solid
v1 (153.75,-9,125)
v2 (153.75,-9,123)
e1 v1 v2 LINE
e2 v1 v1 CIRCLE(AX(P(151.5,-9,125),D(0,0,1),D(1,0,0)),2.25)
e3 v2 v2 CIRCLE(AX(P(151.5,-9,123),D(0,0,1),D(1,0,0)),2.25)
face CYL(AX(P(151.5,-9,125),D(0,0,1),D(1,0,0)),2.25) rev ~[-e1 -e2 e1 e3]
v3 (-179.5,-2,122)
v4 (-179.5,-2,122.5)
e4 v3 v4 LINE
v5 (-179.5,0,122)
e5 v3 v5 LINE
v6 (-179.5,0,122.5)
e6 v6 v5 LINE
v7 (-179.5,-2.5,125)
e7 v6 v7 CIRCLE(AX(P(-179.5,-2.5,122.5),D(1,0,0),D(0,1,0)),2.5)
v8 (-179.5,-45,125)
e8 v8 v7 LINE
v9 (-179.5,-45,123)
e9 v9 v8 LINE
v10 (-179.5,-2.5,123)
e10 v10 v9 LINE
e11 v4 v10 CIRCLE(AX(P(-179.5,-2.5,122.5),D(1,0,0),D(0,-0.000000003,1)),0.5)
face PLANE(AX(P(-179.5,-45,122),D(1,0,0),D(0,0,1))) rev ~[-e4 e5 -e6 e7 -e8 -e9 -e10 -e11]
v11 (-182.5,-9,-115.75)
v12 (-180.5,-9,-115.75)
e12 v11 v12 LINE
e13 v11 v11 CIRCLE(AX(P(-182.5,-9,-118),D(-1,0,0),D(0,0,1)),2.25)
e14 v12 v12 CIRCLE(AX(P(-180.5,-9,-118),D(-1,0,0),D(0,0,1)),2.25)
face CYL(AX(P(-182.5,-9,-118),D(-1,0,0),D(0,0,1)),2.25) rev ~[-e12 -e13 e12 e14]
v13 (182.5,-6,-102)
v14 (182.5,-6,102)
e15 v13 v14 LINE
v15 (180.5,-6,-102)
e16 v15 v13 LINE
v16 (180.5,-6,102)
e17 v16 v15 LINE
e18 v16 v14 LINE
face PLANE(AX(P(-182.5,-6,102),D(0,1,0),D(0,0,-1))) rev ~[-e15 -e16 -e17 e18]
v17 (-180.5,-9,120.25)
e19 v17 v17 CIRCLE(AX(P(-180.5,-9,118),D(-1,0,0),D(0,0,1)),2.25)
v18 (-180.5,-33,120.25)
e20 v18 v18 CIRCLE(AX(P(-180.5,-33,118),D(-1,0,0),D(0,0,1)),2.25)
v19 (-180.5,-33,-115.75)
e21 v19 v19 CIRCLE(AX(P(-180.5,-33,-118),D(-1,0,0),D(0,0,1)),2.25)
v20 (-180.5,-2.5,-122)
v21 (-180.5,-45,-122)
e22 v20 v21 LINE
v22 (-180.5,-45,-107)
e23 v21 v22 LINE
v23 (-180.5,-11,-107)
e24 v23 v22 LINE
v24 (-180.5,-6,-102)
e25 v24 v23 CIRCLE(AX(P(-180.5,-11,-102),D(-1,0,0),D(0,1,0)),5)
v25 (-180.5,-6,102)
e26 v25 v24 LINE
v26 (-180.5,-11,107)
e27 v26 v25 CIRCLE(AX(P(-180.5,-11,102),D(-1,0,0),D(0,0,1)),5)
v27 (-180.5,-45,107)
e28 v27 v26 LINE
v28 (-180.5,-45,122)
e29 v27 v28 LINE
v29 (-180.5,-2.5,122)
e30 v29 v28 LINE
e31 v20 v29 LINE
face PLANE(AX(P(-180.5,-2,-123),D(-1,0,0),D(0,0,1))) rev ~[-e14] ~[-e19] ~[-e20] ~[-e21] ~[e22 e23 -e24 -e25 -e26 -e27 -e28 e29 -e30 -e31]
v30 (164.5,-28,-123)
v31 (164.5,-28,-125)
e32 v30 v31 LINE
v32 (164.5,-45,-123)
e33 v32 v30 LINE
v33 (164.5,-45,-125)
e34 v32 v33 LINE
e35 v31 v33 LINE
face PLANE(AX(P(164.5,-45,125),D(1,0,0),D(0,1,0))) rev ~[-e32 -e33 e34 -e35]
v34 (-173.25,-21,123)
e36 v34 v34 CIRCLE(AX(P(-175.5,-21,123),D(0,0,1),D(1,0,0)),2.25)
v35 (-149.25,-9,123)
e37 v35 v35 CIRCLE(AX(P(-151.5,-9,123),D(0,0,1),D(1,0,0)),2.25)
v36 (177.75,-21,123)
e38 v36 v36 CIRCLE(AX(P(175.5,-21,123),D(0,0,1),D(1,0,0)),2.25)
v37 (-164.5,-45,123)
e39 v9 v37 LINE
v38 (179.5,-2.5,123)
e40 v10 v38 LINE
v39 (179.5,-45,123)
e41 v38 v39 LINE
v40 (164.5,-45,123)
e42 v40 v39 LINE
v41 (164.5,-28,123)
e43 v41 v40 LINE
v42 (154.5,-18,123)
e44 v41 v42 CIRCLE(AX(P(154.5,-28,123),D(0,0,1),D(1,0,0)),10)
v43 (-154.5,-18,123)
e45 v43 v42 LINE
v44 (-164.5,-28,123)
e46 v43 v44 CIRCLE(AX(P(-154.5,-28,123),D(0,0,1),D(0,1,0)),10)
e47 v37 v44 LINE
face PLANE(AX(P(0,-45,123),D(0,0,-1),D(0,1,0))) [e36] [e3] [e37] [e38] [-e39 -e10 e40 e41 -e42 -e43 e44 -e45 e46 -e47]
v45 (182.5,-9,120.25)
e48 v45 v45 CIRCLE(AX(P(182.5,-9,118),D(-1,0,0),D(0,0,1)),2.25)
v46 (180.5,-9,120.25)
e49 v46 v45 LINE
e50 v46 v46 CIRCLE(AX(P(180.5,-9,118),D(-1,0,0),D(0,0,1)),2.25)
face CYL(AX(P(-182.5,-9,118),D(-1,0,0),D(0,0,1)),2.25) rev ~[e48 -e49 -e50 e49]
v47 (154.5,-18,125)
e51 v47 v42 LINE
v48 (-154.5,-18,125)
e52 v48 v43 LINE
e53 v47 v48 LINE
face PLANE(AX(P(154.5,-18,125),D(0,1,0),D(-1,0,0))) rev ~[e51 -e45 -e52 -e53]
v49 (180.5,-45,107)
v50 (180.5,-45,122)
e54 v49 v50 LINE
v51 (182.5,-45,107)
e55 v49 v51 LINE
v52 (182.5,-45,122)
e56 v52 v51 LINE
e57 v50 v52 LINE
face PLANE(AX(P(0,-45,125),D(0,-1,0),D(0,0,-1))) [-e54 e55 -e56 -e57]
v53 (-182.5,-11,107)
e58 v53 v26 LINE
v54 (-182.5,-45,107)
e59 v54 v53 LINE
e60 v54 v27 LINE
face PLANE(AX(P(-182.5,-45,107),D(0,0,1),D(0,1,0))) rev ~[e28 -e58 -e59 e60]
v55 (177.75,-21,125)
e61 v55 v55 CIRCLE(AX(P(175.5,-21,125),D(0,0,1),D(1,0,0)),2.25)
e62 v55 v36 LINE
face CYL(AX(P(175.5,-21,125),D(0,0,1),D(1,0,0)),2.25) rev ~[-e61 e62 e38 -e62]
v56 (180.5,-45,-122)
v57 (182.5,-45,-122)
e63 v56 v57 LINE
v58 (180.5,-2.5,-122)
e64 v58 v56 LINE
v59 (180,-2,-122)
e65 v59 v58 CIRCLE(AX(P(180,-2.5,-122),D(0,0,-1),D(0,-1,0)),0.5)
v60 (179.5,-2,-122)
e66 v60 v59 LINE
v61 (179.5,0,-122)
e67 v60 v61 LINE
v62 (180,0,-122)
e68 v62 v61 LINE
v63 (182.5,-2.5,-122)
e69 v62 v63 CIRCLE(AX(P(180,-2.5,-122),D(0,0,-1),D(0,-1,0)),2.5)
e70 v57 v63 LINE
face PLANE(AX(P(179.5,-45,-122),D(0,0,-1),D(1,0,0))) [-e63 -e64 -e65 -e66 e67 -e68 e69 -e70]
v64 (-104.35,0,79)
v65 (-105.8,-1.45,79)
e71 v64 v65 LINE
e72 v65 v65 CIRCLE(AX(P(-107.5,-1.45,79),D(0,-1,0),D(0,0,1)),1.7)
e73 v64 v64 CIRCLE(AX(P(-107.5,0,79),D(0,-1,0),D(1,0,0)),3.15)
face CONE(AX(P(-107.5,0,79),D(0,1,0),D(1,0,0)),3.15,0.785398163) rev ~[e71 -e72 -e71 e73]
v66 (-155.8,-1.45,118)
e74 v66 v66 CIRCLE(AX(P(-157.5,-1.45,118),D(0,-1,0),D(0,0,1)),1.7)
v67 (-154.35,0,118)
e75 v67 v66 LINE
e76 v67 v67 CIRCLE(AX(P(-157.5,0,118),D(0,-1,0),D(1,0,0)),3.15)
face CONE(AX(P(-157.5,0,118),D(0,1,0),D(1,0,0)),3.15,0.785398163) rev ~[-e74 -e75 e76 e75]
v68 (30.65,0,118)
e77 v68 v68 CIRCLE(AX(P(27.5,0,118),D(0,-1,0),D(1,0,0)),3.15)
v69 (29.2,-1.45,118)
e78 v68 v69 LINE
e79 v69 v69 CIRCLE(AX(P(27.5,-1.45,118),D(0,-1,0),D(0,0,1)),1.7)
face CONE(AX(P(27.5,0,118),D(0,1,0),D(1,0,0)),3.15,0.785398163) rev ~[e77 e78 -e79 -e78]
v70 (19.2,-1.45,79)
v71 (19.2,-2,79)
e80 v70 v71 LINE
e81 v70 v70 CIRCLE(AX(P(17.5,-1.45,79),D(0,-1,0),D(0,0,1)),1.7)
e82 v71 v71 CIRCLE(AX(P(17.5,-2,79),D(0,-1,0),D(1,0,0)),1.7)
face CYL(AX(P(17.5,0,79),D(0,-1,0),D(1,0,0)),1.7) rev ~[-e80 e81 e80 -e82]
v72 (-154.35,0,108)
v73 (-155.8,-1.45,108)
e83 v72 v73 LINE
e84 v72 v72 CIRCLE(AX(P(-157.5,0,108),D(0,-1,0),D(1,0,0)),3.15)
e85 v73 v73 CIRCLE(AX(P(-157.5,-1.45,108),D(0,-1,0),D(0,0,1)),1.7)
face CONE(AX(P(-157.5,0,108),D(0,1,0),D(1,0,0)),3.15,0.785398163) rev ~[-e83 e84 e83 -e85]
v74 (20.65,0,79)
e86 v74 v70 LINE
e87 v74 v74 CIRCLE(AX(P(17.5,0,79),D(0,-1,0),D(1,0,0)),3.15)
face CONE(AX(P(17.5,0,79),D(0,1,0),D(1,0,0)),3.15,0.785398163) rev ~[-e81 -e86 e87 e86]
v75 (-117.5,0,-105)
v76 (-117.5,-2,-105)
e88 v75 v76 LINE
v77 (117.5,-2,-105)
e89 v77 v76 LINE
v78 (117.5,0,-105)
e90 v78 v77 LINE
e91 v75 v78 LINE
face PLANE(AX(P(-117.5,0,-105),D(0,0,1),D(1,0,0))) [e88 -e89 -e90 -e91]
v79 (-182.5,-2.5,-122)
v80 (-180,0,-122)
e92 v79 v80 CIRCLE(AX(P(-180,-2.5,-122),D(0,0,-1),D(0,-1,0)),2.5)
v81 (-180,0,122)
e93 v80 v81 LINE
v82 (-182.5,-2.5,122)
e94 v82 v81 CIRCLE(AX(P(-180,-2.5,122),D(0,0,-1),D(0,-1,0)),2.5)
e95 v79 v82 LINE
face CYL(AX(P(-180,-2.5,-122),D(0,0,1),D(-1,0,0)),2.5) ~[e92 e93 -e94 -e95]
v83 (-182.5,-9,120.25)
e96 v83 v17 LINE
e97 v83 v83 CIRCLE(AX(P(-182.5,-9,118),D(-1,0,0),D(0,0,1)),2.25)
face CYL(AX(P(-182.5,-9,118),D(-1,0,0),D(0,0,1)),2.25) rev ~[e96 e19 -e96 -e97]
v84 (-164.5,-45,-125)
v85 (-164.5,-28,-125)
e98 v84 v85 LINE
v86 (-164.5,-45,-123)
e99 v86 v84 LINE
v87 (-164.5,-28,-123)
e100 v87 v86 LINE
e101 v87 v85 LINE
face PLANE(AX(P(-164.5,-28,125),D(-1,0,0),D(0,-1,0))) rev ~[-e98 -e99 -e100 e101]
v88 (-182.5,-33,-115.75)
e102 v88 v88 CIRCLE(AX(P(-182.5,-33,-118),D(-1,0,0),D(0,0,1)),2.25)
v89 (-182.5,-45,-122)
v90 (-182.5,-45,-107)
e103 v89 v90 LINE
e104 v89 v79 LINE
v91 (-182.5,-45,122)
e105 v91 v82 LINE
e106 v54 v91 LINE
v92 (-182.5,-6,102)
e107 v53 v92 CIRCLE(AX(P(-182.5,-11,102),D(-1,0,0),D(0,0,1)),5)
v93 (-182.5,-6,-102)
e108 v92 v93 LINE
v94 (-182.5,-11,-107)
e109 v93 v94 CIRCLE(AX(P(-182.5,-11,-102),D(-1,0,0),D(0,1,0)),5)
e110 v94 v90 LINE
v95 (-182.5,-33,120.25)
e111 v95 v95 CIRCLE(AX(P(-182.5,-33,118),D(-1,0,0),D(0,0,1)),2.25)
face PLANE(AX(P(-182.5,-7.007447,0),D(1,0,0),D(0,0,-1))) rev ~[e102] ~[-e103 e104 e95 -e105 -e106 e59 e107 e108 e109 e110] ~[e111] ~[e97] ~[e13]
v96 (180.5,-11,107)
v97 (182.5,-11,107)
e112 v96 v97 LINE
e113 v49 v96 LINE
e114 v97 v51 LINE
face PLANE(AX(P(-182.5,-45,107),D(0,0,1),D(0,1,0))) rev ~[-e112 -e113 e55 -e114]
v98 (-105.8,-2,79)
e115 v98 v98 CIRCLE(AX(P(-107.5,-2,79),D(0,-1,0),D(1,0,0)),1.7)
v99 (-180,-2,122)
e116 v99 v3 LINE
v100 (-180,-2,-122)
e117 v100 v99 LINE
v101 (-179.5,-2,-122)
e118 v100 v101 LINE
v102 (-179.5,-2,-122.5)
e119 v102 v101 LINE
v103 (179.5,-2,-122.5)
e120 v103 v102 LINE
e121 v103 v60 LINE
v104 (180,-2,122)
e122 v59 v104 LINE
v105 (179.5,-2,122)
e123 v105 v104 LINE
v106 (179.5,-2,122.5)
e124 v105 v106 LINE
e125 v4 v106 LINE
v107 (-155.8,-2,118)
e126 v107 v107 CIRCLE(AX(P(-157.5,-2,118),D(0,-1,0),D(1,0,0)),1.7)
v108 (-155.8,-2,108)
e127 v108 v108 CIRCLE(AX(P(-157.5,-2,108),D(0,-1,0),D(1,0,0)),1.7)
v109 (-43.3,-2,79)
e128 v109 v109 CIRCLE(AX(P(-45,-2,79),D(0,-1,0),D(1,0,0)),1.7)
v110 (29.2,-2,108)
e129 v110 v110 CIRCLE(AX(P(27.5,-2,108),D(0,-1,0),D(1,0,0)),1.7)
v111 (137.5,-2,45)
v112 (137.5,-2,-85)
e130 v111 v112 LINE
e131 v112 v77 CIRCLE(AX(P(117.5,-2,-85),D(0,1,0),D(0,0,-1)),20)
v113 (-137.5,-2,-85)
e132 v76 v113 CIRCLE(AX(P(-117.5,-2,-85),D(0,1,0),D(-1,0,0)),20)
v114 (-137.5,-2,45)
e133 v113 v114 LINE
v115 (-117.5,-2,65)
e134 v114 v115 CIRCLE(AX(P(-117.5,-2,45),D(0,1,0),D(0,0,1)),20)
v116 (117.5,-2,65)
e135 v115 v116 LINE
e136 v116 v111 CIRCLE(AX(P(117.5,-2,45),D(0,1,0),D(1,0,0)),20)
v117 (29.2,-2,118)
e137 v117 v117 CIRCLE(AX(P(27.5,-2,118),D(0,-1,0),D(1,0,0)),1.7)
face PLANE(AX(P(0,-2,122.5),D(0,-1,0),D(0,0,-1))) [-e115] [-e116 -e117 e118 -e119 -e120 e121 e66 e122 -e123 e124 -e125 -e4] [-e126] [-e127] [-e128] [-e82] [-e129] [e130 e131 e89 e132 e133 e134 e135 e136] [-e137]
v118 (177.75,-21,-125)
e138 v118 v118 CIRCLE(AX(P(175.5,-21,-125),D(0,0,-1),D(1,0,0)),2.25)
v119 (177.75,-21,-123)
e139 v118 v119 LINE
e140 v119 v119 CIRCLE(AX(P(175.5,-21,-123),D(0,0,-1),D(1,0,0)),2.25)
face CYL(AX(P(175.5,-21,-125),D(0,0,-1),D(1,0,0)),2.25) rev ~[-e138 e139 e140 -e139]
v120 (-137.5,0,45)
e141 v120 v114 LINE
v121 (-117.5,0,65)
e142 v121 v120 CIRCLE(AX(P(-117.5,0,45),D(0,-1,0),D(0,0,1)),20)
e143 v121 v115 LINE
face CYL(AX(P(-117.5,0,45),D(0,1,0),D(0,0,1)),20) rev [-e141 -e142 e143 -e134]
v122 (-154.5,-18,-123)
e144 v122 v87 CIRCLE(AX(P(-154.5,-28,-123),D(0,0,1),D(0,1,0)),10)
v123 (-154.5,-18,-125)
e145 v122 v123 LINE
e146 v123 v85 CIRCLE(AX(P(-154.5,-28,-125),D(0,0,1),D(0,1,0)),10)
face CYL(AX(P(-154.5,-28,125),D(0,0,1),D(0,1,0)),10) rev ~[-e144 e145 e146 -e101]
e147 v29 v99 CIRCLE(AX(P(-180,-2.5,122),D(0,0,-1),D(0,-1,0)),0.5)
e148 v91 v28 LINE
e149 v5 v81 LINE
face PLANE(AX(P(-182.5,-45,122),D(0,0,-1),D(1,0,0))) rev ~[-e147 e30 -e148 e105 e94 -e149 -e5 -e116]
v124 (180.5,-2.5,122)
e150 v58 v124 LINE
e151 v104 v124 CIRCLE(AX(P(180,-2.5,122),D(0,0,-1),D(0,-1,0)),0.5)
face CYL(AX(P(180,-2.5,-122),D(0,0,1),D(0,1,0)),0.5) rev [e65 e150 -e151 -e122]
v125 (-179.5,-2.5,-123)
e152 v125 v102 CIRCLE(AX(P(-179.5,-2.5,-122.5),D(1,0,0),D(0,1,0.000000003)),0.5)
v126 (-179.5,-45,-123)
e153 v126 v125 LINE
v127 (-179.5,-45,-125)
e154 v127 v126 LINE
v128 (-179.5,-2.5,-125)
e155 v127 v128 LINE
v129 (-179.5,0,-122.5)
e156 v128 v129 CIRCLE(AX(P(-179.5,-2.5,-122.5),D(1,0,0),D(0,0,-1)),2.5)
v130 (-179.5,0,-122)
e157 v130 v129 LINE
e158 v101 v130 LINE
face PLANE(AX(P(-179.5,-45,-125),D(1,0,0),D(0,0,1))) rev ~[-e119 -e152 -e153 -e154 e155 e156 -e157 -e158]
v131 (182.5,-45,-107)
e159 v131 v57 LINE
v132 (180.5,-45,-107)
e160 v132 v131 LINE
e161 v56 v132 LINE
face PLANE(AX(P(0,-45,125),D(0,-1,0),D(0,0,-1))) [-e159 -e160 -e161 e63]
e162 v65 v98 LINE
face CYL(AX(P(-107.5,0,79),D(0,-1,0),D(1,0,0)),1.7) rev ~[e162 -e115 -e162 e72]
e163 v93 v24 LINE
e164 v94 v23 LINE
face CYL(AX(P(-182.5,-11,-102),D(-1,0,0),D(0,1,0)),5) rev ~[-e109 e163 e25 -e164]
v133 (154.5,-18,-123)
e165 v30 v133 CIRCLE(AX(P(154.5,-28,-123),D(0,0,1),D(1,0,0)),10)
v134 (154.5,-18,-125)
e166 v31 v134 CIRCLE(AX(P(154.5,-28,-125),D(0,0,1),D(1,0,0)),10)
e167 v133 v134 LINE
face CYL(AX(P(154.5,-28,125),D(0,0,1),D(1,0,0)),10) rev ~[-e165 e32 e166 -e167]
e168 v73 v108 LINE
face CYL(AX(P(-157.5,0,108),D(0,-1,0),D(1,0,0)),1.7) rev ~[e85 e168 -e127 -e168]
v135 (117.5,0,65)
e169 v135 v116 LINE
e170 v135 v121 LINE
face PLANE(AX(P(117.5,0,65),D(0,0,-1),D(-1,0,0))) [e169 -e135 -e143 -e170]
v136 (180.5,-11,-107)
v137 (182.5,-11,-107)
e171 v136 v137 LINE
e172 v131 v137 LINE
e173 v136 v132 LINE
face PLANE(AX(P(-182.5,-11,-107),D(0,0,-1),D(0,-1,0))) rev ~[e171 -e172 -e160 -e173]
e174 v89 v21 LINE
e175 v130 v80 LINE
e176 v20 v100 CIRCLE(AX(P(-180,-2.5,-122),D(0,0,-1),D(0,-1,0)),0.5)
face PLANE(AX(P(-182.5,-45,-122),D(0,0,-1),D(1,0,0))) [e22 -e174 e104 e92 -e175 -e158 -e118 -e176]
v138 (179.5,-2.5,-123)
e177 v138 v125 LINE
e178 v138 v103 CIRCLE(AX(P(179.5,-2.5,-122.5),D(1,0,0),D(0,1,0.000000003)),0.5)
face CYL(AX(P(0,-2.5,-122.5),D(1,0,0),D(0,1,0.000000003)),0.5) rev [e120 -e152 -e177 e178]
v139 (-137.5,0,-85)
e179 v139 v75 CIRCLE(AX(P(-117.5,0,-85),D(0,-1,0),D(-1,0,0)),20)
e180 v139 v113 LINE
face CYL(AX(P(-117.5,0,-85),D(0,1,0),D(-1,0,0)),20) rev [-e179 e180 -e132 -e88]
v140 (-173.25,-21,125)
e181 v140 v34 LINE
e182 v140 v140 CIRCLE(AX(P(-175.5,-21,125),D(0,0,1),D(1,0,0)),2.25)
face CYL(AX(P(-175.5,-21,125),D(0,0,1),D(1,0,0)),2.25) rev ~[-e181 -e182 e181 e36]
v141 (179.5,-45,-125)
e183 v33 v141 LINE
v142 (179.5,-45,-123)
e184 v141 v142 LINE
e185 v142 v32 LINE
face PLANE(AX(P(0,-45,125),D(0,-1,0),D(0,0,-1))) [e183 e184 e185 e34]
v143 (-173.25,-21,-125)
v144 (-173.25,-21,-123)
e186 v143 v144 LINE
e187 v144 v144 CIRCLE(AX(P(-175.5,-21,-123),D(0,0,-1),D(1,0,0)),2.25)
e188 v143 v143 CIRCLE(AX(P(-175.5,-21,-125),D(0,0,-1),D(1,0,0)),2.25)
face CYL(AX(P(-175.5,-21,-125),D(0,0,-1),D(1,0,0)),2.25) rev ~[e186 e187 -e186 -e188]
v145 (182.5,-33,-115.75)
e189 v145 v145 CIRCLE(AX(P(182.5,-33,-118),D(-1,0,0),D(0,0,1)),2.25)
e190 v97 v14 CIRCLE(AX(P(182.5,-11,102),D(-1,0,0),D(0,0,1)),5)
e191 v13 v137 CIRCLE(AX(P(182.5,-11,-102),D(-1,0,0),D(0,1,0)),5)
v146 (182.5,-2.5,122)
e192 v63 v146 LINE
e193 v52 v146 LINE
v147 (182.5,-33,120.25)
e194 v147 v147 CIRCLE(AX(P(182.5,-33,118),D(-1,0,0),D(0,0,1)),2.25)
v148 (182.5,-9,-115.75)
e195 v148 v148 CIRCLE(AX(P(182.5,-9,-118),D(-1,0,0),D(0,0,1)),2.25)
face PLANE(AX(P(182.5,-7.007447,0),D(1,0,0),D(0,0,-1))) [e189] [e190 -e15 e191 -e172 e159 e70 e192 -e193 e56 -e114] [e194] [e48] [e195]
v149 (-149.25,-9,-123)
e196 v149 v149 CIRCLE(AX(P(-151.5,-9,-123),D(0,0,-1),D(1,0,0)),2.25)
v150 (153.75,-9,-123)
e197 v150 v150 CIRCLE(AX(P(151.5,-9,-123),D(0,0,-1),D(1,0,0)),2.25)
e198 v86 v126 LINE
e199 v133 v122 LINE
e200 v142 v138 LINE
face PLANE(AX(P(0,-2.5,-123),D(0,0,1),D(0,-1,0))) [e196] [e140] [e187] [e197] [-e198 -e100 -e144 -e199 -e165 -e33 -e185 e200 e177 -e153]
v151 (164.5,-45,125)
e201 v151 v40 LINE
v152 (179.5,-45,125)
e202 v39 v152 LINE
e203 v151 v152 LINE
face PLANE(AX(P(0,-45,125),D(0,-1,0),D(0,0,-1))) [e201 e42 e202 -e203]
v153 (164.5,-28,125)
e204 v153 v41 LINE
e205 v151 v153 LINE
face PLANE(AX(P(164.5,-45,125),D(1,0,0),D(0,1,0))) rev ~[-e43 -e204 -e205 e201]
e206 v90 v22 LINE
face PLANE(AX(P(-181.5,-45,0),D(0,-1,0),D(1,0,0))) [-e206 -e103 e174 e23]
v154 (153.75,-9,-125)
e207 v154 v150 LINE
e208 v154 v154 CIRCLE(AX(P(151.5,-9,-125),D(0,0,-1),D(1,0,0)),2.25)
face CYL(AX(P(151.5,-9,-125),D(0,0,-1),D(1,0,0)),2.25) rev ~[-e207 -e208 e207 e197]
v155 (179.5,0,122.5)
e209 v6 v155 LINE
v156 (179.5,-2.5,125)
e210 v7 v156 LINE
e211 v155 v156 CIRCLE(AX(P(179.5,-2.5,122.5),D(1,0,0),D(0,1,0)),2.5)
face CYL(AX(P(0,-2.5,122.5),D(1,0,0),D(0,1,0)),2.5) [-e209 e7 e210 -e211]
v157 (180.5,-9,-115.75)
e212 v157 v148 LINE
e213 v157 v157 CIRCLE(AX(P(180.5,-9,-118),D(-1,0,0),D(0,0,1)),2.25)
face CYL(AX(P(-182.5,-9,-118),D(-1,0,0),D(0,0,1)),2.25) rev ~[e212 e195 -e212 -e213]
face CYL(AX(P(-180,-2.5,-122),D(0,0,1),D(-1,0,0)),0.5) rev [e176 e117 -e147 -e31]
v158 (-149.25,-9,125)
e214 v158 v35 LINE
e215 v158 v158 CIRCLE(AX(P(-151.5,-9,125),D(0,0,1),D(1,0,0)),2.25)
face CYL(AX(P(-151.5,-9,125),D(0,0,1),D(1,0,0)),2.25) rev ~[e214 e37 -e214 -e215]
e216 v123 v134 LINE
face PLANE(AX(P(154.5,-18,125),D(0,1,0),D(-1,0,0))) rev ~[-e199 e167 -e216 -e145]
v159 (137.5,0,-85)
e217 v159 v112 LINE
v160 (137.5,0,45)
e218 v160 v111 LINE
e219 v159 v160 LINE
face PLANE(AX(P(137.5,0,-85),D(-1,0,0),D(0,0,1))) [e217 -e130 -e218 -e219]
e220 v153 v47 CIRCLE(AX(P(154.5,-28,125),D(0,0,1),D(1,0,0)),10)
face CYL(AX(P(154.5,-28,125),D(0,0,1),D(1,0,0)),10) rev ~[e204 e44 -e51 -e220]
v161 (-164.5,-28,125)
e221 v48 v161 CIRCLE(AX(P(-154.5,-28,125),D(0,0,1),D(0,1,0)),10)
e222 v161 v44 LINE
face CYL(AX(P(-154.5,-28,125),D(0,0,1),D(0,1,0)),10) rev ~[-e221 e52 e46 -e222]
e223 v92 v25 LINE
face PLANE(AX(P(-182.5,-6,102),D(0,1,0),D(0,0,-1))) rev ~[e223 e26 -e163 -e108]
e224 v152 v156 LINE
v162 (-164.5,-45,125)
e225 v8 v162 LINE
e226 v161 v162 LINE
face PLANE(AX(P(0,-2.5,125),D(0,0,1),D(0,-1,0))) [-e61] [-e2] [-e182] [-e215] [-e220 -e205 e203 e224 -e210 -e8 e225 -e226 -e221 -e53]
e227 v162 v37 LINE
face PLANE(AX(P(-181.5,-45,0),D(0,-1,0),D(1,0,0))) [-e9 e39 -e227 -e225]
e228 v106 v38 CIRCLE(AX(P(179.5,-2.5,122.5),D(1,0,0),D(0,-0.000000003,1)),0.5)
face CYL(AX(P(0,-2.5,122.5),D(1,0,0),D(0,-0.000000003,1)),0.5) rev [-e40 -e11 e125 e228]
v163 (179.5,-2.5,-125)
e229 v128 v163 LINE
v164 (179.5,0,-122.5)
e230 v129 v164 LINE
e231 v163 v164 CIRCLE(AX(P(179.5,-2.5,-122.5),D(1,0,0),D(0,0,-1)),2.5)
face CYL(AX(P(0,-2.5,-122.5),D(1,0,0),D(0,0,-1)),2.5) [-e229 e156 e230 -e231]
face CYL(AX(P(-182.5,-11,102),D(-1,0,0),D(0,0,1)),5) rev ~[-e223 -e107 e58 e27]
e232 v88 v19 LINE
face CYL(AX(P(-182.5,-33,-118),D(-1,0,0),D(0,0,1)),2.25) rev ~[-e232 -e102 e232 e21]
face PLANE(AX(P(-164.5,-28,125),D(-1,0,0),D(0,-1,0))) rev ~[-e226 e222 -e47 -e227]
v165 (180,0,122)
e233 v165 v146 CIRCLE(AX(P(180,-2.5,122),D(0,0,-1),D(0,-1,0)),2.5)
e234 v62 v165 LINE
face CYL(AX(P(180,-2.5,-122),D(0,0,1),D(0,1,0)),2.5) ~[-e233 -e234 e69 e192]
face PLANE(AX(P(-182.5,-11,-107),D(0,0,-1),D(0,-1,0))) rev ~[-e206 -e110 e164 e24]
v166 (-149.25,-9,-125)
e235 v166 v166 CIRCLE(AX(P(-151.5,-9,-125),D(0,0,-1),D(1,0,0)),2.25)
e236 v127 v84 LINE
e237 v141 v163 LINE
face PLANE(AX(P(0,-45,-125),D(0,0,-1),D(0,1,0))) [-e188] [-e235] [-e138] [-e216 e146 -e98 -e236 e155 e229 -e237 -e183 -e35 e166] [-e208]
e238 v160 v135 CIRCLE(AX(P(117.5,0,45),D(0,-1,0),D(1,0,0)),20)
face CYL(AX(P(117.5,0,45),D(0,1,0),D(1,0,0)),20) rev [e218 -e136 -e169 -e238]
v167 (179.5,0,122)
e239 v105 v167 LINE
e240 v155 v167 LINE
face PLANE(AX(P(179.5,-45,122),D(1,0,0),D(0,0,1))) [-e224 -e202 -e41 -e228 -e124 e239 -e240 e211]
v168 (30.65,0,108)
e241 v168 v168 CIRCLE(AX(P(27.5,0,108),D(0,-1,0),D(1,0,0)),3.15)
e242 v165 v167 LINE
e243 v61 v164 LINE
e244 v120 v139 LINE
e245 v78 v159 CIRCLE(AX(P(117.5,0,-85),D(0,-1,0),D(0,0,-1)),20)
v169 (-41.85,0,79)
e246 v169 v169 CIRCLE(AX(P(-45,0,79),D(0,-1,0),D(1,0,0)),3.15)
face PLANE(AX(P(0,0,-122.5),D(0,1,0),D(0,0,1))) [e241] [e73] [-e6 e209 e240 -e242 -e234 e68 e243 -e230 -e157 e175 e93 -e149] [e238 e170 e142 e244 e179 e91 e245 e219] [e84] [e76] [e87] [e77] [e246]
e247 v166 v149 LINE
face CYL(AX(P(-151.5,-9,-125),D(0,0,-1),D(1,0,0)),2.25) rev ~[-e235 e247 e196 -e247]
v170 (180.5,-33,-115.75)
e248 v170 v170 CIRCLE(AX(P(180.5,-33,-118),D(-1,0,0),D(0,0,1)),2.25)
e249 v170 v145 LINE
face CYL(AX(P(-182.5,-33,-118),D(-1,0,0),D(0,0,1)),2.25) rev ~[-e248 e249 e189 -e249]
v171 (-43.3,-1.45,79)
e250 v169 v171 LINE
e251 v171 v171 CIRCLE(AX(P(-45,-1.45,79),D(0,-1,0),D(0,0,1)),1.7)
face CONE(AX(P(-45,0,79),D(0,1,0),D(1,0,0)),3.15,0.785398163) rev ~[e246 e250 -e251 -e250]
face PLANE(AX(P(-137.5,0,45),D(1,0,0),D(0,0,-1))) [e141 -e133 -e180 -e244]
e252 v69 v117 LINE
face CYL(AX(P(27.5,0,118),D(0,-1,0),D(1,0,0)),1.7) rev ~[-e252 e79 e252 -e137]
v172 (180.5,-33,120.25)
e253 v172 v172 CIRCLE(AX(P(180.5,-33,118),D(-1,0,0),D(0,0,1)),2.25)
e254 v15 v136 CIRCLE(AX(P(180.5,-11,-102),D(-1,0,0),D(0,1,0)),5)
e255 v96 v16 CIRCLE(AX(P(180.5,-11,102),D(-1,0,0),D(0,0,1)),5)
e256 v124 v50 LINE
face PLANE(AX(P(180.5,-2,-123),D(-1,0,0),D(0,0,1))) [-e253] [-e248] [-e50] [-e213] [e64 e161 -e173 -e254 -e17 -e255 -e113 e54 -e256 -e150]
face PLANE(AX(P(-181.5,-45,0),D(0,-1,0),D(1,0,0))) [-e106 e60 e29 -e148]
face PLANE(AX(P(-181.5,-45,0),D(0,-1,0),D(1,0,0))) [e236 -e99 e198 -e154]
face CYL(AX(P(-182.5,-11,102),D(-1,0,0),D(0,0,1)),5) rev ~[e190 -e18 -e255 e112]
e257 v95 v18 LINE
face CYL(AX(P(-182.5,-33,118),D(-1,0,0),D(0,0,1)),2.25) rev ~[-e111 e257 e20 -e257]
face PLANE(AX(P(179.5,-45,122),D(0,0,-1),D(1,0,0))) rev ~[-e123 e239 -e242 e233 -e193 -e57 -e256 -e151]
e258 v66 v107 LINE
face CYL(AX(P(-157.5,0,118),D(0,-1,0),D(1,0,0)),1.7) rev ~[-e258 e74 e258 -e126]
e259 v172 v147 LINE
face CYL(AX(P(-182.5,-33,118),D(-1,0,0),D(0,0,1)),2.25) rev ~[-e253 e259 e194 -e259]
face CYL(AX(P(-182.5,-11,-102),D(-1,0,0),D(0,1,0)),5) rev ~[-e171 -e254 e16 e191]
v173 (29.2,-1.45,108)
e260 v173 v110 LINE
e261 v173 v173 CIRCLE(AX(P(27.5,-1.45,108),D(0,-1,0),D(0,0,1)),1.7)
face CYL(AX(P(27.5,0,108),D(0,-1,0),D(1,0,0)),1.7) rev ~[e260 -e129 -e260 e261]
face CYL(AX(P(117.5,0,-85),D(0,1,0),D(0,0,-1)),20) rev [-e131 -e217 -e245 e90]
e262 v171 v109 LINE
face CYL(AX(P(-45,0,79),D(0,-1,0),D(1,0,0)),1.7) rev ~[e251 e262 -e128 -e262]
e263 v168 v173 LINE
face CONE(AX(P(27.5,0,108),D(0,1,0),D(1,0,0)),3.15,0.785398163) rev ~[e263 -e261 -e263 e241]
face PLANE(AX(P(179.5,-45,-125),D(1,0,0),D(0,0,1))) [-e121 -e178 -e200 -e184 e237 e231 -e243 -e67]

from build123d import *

# Parameters (mm, degrees)
BOSS_EXTRUDE1_DEPTH                             = 182.5
CUT_EXTRUDE1_DEPTH                              = 251
CUT_EXTRUDE2_DEPTH                              = 10
SKETCH4_W                                       = 2
SKETCH4_H                                       = 246
BOSS_EXTRUDE2_DEPTH                             = 43
SKETCH5_W                                       = 3
SKETCH5_H                                       = 3
CUT_EXTRUDE3_DEPTH                              = 46
FILLET1_R                                       = 0.5
FILLET2_R                                       = 2.5
CUT_EXTRUDE6_DEPTH                              = 366
SKETCH9_R                                       = 2.25
CUT_EXTRUDE7_DEPTH                              = 366
SKETCH10_R                                      = 2.25
CUT_EXTRUDE8_DEPTH                              = 10
SKETCH11_R                                      = 2.25
CUT_EXTRUDE9_DEPTH                              = 10
SKETCH12_R                                      = 1.5
CUT_EXTRUDE10_DEPTH                             = 10
CSK_FOR_M3_FLAT_HEAD_MACHINE_SCREW1_D           = 3.4
CSK_FOR_M3_FLAT_HEAD_MACHINE_SCREW1_CSINK_D     = 6.3
CSK_FOR_M3_FLAT_HEAD_MACHINE_SCREW1_CSINK_ANGLE = 90


with BuildPart() as part:
    # Sketch1 → Boss-Extrude1 (new body, symmetric)
    with BuildSketch(Plane(origin=(0, 0, 0), x_dir=(0, 0, -1), z_dir=(1, 0, 0))):
        with BuildLine():
            Line((123, -45), (125, -45))
            Line((125, -45), (125, -2.5))
            ThreePointArc((125, -2.5), (124.267766953, -0.732233047), (122.5, 0))
            Line((122.5, 0), (-122.5, 0))
            ThreePointArc((-122.5, 0), (-124.267766953, -0.732233047), (-125, -2.5))
            Line((-125, -2.5), (-125, -45))
            Line((-125, -45), (-123, -45))
            Line((-123, -45), (-123, -2.5))
            ThreePointArc((-123, -2.5), (-122.853553391, -2.146446609), (-122.5, -2))
            Line((-122.5, -2), (122.5, -2))
            ThreePointArc((122.5, -2), (122.853553391, -2.146446609), (123, -2.5))
            Line((123, -2.5), (123, -45))
        make_face()
    extrude(amount=BOSS_EXTRUDE1_DEPTH, both=True)

    # Sketch2 → Cut-Extrude1 (cut, through all)
    with BuildSketch(Plane.XY.offset(125)):
        with BuildLine():
            Line((-164.5, -45), (164.5, -45))
            Line((164.5, -45), (164.5, -28))
            ThreePointArc((164.5, -28), (161.571067812, -20.928932188), (154.5, -18))
            Line((154.5, -18), (-154.5, -18))
            ThreePointArc((-154.5, -18), (-161.571067812, -20.928932188), (-164.5, -28))
            Line((-164.5, -28), (-164.5, -45))
        make_face()
    extrude(amount=-CUT_EXTRUDE1_DEPTH, mode=Mode.SUBTRACT)

    # Sketch3 → Cut-Extrude2 (cut)
    with BuildSketch(Plane(origin=(0, 0, 0), x_dir=(1, 0, 0), z_dir=(0, 1, 0))):
        with BuildLine():
            Line((-117.5, 105), (117.5, 105))
            ThreePointArc((117.5, 105), (131.642135624, 99.142135624), (137.5, 85))
            Line((137.5, 85), (137.5, -45))
            ThreePointArc((137.5, -45), (131.642135624, -59.142135624), (117.5, -65))
            Line((117.5, -65), (-117.5, -65))
            ThreePointArc((-117.5, -65), (-131.642135624, -59.142135624), (-137.5, -45))
            Line((-137.5, -45), (-137.5, 85))
            ThreePointArc((-137.5, 85), (-131.642135624, 99.142135624), (-117.5, 105))
        make_face()
    extrude(amount=-CUT_EXTRUDE2_DEPTH, mode=Mode.SUBTRACT)

    # Sketch4 → Boss-Extrude2 (add)
    with BuildSketch(Plane.XZ.offset(2)):
        with Locations((-181.5, 0)):
            Rectangle(SKETCH4_W, SKETCH4_H)
        with Locations((181.5, 0)):
            Rectangle(SKETCH4_W, SKETCH4_H)
    extrude(amount=BOSS_EXTRUDE2_DEPTH)

    # Sketch5 → Cut-Extrude3 (cut, through all)
    with BuildSketch(Plane.XZ.offset(45)):
        with Locations((-181, 123.5)):
            Rectangle(SKETCH5_W, SKETCH5_H)
        with Locations((-181, -123.5)):
            Rectangle(SKETCH5_W, SKETCH5_H)
        with Locations((181, -123.5)):
            Rectangle(SKETCH5_W, SKETCH5_H)
        with Locations((181, 123.5)):
            Rectangle(SKETCH5_W, SKETCH5_H)
    extrude(amount=-CUT_EXTRUDE3_DEPTH, mode=Mode.SUBTRACT)

    # Fillet1
    fillet1_edges = [part.edges().sort_by_distance(p)[0] for p in [
        (-180.5, -2, 0),
        (180.5, -2, 0),
    ]]
    fillet(fillet1_edges, radius=FILLET1_R)

    # Fillet2
    fillet2_edges = [part.edges().sort_by_distance(p)[0] for p in [
        (-182.5, 0, 0),
        (182.5, 0, 0),
    ]]
    fillet(fillet2_edges, radius=FILLET2_R)

    # Sketch8 → Cut-Extrude6 (cut, through all)
    with BuildSketch(Plane.ZY.offset(182.5)):
        with BuildLine():
            Line((-107, -45), (107, -45))
            Line((107, -45), (107, -11))
            ThreePointArc((107, -11), (105.535533906, -7.464466094), (102, -6))
            Line((102, -6), (-102, -6))
            ThreePointArc((-102, -6), (-105.535533906, -7.464466094), (-107, -11))
            Line((-107, -11), (-107, -45))
        make_face()
    extrude(amount=-CUT_EXTRUDE6_DEPTH, mode=Mode.SUBTRACT)

    # Sketch9 → Cut-Extrude7 (cut, through all)
    with BuildSketch(Plane.ZY.offset(182.5)):
        with Locations((-118, -9)):
            Circle(SKETCH9_R)
        with Locations((-118, -33)):
            Circle(SKETCH9_R)
        with Locations((118, -9)):
            Circle(SKETCH9_R)
        with Locations((118, -33)):
            Circle(SKETCH9_R)
    extrude(amount=-CUT_EXTRUDE7_DEPTH, mode=Mode.SUBTRACT)

    # Sketch10 → Cut-Extrude8 (cut)
    with BuildSketch(Plane.XY.offset(125)):
        with Locations((-151.5, -9)):
            Circle(SKETCH10_R)
        with Locations((175.5, -21)):
            Circle(SKETCH10_R)
        with Locations((151.5, -9)):
            Circle(SKETCH10_R)
        with Locations((-175.5, -21)):
            Circle(SKETCH10_R)
    extrude(amount=-CUT_EXTRUDE8_DEPTH, mode=Mode.SUBTRACT)

    # Sketch11 → Cut-Extrude9 (cut)
    with BuildSketch(Plane(origin=(0, 0, -125), x_dir=(-1, 0, 0), z_dir=(0, 0, -1))):
        with Locations(Location((-175.5, -21, 0), (0, 0, 180))):  # turned: the seam where the file's is
            Circle(SKETCH11_R)
        with Locations(Location((-151.5, -9, 0), (0, 0, 180))):  # turned: the seam where the file's is
            Circle(SKETCH11_R)
        with Locations(Location((151.5, -9, 0), (0, 0, 180))):  # turned: the seam where the file's is
            Circle(SKETCH11_R)
        with Locations(Location((175.5, -21, 0), (0, 0, 180))):  # turned: the seam where the file's is
            Circle(SKETCH11_R)
    extrude(amount=-CUT_EXTRUDE9_DEPTH, mode=Mode.SUBTRACT)

    # Sketch12 → Cut-Extrude10 (cut)
    with BuildSketch(Plane(origin=(0, 0, 0), x_dir=(1, 0, 0), z_dir=(0, 1, 0))):
        with Locations(Location((-45, -79, 0), (0, 0, 270))):  # turned: the seam where the file's is
            Circle(SKETCH12_R)
        with Locations(Location((17.5, -79, 0), (0, 0, 270))):  # turned: the seam where the file's is
            Circle(SKETCH12_R)
        with Locations(Location((-107.5, -79, 0), (0, 0, 270))):  # turned: the seam where the file's is
            Circle(SKETCH12_R)
        with Locations(Location((-157.5, -108, 0), (0, 0, 270))):  # turned: the seam where the file's is
            Circle(SKETCH12_R)
        with Locations(Location((-157.5, -118, 0), (0, 0, 270))):  # turned: the seam where the file's is
            Circle(SKETCH12_R)
        with Locations(Location((27.5, -108, 0), (0, 0, 270))):  # turned: the seam where the file's is
            Circle(SKETCH12_R)
        with Locations(Location((27.5, -118, 0), (0, 0, 270))):  # turned: the seam where the file's is
            Circle(SKETCH12_R)
    extrude(amount=-CUT_EXTRUDE10_DEPTH, mode=Mode.SUBTRACT)

    # CSK for M3 Flat Head Machine Screw1 (through all)
    with Locations(Plane(origin=(0, 0, 0), x_dir=(-1, 0, 0), z_dir=(0, 1, 0))):
        with Locations((107.5, 79), (45, 79), (-17.5, 79), (157.5, 108), (157.5, 118), (-27.5, 108), (-27.5, 118)):
            CounterSinkHole(CSK_FOR_M3_FLAT_HEAD_MACHINE_SCREW1_D / 2, CSK_FOR_M3_FLAT_HEAD_MACHINE_SCREW1_CSINK_D / 2, counter_sink_angle=CSK_FOR_M3_FLAT_HEAD_MACHINE_SCREW1_CSINK_ANGLE)


solid = part.part
